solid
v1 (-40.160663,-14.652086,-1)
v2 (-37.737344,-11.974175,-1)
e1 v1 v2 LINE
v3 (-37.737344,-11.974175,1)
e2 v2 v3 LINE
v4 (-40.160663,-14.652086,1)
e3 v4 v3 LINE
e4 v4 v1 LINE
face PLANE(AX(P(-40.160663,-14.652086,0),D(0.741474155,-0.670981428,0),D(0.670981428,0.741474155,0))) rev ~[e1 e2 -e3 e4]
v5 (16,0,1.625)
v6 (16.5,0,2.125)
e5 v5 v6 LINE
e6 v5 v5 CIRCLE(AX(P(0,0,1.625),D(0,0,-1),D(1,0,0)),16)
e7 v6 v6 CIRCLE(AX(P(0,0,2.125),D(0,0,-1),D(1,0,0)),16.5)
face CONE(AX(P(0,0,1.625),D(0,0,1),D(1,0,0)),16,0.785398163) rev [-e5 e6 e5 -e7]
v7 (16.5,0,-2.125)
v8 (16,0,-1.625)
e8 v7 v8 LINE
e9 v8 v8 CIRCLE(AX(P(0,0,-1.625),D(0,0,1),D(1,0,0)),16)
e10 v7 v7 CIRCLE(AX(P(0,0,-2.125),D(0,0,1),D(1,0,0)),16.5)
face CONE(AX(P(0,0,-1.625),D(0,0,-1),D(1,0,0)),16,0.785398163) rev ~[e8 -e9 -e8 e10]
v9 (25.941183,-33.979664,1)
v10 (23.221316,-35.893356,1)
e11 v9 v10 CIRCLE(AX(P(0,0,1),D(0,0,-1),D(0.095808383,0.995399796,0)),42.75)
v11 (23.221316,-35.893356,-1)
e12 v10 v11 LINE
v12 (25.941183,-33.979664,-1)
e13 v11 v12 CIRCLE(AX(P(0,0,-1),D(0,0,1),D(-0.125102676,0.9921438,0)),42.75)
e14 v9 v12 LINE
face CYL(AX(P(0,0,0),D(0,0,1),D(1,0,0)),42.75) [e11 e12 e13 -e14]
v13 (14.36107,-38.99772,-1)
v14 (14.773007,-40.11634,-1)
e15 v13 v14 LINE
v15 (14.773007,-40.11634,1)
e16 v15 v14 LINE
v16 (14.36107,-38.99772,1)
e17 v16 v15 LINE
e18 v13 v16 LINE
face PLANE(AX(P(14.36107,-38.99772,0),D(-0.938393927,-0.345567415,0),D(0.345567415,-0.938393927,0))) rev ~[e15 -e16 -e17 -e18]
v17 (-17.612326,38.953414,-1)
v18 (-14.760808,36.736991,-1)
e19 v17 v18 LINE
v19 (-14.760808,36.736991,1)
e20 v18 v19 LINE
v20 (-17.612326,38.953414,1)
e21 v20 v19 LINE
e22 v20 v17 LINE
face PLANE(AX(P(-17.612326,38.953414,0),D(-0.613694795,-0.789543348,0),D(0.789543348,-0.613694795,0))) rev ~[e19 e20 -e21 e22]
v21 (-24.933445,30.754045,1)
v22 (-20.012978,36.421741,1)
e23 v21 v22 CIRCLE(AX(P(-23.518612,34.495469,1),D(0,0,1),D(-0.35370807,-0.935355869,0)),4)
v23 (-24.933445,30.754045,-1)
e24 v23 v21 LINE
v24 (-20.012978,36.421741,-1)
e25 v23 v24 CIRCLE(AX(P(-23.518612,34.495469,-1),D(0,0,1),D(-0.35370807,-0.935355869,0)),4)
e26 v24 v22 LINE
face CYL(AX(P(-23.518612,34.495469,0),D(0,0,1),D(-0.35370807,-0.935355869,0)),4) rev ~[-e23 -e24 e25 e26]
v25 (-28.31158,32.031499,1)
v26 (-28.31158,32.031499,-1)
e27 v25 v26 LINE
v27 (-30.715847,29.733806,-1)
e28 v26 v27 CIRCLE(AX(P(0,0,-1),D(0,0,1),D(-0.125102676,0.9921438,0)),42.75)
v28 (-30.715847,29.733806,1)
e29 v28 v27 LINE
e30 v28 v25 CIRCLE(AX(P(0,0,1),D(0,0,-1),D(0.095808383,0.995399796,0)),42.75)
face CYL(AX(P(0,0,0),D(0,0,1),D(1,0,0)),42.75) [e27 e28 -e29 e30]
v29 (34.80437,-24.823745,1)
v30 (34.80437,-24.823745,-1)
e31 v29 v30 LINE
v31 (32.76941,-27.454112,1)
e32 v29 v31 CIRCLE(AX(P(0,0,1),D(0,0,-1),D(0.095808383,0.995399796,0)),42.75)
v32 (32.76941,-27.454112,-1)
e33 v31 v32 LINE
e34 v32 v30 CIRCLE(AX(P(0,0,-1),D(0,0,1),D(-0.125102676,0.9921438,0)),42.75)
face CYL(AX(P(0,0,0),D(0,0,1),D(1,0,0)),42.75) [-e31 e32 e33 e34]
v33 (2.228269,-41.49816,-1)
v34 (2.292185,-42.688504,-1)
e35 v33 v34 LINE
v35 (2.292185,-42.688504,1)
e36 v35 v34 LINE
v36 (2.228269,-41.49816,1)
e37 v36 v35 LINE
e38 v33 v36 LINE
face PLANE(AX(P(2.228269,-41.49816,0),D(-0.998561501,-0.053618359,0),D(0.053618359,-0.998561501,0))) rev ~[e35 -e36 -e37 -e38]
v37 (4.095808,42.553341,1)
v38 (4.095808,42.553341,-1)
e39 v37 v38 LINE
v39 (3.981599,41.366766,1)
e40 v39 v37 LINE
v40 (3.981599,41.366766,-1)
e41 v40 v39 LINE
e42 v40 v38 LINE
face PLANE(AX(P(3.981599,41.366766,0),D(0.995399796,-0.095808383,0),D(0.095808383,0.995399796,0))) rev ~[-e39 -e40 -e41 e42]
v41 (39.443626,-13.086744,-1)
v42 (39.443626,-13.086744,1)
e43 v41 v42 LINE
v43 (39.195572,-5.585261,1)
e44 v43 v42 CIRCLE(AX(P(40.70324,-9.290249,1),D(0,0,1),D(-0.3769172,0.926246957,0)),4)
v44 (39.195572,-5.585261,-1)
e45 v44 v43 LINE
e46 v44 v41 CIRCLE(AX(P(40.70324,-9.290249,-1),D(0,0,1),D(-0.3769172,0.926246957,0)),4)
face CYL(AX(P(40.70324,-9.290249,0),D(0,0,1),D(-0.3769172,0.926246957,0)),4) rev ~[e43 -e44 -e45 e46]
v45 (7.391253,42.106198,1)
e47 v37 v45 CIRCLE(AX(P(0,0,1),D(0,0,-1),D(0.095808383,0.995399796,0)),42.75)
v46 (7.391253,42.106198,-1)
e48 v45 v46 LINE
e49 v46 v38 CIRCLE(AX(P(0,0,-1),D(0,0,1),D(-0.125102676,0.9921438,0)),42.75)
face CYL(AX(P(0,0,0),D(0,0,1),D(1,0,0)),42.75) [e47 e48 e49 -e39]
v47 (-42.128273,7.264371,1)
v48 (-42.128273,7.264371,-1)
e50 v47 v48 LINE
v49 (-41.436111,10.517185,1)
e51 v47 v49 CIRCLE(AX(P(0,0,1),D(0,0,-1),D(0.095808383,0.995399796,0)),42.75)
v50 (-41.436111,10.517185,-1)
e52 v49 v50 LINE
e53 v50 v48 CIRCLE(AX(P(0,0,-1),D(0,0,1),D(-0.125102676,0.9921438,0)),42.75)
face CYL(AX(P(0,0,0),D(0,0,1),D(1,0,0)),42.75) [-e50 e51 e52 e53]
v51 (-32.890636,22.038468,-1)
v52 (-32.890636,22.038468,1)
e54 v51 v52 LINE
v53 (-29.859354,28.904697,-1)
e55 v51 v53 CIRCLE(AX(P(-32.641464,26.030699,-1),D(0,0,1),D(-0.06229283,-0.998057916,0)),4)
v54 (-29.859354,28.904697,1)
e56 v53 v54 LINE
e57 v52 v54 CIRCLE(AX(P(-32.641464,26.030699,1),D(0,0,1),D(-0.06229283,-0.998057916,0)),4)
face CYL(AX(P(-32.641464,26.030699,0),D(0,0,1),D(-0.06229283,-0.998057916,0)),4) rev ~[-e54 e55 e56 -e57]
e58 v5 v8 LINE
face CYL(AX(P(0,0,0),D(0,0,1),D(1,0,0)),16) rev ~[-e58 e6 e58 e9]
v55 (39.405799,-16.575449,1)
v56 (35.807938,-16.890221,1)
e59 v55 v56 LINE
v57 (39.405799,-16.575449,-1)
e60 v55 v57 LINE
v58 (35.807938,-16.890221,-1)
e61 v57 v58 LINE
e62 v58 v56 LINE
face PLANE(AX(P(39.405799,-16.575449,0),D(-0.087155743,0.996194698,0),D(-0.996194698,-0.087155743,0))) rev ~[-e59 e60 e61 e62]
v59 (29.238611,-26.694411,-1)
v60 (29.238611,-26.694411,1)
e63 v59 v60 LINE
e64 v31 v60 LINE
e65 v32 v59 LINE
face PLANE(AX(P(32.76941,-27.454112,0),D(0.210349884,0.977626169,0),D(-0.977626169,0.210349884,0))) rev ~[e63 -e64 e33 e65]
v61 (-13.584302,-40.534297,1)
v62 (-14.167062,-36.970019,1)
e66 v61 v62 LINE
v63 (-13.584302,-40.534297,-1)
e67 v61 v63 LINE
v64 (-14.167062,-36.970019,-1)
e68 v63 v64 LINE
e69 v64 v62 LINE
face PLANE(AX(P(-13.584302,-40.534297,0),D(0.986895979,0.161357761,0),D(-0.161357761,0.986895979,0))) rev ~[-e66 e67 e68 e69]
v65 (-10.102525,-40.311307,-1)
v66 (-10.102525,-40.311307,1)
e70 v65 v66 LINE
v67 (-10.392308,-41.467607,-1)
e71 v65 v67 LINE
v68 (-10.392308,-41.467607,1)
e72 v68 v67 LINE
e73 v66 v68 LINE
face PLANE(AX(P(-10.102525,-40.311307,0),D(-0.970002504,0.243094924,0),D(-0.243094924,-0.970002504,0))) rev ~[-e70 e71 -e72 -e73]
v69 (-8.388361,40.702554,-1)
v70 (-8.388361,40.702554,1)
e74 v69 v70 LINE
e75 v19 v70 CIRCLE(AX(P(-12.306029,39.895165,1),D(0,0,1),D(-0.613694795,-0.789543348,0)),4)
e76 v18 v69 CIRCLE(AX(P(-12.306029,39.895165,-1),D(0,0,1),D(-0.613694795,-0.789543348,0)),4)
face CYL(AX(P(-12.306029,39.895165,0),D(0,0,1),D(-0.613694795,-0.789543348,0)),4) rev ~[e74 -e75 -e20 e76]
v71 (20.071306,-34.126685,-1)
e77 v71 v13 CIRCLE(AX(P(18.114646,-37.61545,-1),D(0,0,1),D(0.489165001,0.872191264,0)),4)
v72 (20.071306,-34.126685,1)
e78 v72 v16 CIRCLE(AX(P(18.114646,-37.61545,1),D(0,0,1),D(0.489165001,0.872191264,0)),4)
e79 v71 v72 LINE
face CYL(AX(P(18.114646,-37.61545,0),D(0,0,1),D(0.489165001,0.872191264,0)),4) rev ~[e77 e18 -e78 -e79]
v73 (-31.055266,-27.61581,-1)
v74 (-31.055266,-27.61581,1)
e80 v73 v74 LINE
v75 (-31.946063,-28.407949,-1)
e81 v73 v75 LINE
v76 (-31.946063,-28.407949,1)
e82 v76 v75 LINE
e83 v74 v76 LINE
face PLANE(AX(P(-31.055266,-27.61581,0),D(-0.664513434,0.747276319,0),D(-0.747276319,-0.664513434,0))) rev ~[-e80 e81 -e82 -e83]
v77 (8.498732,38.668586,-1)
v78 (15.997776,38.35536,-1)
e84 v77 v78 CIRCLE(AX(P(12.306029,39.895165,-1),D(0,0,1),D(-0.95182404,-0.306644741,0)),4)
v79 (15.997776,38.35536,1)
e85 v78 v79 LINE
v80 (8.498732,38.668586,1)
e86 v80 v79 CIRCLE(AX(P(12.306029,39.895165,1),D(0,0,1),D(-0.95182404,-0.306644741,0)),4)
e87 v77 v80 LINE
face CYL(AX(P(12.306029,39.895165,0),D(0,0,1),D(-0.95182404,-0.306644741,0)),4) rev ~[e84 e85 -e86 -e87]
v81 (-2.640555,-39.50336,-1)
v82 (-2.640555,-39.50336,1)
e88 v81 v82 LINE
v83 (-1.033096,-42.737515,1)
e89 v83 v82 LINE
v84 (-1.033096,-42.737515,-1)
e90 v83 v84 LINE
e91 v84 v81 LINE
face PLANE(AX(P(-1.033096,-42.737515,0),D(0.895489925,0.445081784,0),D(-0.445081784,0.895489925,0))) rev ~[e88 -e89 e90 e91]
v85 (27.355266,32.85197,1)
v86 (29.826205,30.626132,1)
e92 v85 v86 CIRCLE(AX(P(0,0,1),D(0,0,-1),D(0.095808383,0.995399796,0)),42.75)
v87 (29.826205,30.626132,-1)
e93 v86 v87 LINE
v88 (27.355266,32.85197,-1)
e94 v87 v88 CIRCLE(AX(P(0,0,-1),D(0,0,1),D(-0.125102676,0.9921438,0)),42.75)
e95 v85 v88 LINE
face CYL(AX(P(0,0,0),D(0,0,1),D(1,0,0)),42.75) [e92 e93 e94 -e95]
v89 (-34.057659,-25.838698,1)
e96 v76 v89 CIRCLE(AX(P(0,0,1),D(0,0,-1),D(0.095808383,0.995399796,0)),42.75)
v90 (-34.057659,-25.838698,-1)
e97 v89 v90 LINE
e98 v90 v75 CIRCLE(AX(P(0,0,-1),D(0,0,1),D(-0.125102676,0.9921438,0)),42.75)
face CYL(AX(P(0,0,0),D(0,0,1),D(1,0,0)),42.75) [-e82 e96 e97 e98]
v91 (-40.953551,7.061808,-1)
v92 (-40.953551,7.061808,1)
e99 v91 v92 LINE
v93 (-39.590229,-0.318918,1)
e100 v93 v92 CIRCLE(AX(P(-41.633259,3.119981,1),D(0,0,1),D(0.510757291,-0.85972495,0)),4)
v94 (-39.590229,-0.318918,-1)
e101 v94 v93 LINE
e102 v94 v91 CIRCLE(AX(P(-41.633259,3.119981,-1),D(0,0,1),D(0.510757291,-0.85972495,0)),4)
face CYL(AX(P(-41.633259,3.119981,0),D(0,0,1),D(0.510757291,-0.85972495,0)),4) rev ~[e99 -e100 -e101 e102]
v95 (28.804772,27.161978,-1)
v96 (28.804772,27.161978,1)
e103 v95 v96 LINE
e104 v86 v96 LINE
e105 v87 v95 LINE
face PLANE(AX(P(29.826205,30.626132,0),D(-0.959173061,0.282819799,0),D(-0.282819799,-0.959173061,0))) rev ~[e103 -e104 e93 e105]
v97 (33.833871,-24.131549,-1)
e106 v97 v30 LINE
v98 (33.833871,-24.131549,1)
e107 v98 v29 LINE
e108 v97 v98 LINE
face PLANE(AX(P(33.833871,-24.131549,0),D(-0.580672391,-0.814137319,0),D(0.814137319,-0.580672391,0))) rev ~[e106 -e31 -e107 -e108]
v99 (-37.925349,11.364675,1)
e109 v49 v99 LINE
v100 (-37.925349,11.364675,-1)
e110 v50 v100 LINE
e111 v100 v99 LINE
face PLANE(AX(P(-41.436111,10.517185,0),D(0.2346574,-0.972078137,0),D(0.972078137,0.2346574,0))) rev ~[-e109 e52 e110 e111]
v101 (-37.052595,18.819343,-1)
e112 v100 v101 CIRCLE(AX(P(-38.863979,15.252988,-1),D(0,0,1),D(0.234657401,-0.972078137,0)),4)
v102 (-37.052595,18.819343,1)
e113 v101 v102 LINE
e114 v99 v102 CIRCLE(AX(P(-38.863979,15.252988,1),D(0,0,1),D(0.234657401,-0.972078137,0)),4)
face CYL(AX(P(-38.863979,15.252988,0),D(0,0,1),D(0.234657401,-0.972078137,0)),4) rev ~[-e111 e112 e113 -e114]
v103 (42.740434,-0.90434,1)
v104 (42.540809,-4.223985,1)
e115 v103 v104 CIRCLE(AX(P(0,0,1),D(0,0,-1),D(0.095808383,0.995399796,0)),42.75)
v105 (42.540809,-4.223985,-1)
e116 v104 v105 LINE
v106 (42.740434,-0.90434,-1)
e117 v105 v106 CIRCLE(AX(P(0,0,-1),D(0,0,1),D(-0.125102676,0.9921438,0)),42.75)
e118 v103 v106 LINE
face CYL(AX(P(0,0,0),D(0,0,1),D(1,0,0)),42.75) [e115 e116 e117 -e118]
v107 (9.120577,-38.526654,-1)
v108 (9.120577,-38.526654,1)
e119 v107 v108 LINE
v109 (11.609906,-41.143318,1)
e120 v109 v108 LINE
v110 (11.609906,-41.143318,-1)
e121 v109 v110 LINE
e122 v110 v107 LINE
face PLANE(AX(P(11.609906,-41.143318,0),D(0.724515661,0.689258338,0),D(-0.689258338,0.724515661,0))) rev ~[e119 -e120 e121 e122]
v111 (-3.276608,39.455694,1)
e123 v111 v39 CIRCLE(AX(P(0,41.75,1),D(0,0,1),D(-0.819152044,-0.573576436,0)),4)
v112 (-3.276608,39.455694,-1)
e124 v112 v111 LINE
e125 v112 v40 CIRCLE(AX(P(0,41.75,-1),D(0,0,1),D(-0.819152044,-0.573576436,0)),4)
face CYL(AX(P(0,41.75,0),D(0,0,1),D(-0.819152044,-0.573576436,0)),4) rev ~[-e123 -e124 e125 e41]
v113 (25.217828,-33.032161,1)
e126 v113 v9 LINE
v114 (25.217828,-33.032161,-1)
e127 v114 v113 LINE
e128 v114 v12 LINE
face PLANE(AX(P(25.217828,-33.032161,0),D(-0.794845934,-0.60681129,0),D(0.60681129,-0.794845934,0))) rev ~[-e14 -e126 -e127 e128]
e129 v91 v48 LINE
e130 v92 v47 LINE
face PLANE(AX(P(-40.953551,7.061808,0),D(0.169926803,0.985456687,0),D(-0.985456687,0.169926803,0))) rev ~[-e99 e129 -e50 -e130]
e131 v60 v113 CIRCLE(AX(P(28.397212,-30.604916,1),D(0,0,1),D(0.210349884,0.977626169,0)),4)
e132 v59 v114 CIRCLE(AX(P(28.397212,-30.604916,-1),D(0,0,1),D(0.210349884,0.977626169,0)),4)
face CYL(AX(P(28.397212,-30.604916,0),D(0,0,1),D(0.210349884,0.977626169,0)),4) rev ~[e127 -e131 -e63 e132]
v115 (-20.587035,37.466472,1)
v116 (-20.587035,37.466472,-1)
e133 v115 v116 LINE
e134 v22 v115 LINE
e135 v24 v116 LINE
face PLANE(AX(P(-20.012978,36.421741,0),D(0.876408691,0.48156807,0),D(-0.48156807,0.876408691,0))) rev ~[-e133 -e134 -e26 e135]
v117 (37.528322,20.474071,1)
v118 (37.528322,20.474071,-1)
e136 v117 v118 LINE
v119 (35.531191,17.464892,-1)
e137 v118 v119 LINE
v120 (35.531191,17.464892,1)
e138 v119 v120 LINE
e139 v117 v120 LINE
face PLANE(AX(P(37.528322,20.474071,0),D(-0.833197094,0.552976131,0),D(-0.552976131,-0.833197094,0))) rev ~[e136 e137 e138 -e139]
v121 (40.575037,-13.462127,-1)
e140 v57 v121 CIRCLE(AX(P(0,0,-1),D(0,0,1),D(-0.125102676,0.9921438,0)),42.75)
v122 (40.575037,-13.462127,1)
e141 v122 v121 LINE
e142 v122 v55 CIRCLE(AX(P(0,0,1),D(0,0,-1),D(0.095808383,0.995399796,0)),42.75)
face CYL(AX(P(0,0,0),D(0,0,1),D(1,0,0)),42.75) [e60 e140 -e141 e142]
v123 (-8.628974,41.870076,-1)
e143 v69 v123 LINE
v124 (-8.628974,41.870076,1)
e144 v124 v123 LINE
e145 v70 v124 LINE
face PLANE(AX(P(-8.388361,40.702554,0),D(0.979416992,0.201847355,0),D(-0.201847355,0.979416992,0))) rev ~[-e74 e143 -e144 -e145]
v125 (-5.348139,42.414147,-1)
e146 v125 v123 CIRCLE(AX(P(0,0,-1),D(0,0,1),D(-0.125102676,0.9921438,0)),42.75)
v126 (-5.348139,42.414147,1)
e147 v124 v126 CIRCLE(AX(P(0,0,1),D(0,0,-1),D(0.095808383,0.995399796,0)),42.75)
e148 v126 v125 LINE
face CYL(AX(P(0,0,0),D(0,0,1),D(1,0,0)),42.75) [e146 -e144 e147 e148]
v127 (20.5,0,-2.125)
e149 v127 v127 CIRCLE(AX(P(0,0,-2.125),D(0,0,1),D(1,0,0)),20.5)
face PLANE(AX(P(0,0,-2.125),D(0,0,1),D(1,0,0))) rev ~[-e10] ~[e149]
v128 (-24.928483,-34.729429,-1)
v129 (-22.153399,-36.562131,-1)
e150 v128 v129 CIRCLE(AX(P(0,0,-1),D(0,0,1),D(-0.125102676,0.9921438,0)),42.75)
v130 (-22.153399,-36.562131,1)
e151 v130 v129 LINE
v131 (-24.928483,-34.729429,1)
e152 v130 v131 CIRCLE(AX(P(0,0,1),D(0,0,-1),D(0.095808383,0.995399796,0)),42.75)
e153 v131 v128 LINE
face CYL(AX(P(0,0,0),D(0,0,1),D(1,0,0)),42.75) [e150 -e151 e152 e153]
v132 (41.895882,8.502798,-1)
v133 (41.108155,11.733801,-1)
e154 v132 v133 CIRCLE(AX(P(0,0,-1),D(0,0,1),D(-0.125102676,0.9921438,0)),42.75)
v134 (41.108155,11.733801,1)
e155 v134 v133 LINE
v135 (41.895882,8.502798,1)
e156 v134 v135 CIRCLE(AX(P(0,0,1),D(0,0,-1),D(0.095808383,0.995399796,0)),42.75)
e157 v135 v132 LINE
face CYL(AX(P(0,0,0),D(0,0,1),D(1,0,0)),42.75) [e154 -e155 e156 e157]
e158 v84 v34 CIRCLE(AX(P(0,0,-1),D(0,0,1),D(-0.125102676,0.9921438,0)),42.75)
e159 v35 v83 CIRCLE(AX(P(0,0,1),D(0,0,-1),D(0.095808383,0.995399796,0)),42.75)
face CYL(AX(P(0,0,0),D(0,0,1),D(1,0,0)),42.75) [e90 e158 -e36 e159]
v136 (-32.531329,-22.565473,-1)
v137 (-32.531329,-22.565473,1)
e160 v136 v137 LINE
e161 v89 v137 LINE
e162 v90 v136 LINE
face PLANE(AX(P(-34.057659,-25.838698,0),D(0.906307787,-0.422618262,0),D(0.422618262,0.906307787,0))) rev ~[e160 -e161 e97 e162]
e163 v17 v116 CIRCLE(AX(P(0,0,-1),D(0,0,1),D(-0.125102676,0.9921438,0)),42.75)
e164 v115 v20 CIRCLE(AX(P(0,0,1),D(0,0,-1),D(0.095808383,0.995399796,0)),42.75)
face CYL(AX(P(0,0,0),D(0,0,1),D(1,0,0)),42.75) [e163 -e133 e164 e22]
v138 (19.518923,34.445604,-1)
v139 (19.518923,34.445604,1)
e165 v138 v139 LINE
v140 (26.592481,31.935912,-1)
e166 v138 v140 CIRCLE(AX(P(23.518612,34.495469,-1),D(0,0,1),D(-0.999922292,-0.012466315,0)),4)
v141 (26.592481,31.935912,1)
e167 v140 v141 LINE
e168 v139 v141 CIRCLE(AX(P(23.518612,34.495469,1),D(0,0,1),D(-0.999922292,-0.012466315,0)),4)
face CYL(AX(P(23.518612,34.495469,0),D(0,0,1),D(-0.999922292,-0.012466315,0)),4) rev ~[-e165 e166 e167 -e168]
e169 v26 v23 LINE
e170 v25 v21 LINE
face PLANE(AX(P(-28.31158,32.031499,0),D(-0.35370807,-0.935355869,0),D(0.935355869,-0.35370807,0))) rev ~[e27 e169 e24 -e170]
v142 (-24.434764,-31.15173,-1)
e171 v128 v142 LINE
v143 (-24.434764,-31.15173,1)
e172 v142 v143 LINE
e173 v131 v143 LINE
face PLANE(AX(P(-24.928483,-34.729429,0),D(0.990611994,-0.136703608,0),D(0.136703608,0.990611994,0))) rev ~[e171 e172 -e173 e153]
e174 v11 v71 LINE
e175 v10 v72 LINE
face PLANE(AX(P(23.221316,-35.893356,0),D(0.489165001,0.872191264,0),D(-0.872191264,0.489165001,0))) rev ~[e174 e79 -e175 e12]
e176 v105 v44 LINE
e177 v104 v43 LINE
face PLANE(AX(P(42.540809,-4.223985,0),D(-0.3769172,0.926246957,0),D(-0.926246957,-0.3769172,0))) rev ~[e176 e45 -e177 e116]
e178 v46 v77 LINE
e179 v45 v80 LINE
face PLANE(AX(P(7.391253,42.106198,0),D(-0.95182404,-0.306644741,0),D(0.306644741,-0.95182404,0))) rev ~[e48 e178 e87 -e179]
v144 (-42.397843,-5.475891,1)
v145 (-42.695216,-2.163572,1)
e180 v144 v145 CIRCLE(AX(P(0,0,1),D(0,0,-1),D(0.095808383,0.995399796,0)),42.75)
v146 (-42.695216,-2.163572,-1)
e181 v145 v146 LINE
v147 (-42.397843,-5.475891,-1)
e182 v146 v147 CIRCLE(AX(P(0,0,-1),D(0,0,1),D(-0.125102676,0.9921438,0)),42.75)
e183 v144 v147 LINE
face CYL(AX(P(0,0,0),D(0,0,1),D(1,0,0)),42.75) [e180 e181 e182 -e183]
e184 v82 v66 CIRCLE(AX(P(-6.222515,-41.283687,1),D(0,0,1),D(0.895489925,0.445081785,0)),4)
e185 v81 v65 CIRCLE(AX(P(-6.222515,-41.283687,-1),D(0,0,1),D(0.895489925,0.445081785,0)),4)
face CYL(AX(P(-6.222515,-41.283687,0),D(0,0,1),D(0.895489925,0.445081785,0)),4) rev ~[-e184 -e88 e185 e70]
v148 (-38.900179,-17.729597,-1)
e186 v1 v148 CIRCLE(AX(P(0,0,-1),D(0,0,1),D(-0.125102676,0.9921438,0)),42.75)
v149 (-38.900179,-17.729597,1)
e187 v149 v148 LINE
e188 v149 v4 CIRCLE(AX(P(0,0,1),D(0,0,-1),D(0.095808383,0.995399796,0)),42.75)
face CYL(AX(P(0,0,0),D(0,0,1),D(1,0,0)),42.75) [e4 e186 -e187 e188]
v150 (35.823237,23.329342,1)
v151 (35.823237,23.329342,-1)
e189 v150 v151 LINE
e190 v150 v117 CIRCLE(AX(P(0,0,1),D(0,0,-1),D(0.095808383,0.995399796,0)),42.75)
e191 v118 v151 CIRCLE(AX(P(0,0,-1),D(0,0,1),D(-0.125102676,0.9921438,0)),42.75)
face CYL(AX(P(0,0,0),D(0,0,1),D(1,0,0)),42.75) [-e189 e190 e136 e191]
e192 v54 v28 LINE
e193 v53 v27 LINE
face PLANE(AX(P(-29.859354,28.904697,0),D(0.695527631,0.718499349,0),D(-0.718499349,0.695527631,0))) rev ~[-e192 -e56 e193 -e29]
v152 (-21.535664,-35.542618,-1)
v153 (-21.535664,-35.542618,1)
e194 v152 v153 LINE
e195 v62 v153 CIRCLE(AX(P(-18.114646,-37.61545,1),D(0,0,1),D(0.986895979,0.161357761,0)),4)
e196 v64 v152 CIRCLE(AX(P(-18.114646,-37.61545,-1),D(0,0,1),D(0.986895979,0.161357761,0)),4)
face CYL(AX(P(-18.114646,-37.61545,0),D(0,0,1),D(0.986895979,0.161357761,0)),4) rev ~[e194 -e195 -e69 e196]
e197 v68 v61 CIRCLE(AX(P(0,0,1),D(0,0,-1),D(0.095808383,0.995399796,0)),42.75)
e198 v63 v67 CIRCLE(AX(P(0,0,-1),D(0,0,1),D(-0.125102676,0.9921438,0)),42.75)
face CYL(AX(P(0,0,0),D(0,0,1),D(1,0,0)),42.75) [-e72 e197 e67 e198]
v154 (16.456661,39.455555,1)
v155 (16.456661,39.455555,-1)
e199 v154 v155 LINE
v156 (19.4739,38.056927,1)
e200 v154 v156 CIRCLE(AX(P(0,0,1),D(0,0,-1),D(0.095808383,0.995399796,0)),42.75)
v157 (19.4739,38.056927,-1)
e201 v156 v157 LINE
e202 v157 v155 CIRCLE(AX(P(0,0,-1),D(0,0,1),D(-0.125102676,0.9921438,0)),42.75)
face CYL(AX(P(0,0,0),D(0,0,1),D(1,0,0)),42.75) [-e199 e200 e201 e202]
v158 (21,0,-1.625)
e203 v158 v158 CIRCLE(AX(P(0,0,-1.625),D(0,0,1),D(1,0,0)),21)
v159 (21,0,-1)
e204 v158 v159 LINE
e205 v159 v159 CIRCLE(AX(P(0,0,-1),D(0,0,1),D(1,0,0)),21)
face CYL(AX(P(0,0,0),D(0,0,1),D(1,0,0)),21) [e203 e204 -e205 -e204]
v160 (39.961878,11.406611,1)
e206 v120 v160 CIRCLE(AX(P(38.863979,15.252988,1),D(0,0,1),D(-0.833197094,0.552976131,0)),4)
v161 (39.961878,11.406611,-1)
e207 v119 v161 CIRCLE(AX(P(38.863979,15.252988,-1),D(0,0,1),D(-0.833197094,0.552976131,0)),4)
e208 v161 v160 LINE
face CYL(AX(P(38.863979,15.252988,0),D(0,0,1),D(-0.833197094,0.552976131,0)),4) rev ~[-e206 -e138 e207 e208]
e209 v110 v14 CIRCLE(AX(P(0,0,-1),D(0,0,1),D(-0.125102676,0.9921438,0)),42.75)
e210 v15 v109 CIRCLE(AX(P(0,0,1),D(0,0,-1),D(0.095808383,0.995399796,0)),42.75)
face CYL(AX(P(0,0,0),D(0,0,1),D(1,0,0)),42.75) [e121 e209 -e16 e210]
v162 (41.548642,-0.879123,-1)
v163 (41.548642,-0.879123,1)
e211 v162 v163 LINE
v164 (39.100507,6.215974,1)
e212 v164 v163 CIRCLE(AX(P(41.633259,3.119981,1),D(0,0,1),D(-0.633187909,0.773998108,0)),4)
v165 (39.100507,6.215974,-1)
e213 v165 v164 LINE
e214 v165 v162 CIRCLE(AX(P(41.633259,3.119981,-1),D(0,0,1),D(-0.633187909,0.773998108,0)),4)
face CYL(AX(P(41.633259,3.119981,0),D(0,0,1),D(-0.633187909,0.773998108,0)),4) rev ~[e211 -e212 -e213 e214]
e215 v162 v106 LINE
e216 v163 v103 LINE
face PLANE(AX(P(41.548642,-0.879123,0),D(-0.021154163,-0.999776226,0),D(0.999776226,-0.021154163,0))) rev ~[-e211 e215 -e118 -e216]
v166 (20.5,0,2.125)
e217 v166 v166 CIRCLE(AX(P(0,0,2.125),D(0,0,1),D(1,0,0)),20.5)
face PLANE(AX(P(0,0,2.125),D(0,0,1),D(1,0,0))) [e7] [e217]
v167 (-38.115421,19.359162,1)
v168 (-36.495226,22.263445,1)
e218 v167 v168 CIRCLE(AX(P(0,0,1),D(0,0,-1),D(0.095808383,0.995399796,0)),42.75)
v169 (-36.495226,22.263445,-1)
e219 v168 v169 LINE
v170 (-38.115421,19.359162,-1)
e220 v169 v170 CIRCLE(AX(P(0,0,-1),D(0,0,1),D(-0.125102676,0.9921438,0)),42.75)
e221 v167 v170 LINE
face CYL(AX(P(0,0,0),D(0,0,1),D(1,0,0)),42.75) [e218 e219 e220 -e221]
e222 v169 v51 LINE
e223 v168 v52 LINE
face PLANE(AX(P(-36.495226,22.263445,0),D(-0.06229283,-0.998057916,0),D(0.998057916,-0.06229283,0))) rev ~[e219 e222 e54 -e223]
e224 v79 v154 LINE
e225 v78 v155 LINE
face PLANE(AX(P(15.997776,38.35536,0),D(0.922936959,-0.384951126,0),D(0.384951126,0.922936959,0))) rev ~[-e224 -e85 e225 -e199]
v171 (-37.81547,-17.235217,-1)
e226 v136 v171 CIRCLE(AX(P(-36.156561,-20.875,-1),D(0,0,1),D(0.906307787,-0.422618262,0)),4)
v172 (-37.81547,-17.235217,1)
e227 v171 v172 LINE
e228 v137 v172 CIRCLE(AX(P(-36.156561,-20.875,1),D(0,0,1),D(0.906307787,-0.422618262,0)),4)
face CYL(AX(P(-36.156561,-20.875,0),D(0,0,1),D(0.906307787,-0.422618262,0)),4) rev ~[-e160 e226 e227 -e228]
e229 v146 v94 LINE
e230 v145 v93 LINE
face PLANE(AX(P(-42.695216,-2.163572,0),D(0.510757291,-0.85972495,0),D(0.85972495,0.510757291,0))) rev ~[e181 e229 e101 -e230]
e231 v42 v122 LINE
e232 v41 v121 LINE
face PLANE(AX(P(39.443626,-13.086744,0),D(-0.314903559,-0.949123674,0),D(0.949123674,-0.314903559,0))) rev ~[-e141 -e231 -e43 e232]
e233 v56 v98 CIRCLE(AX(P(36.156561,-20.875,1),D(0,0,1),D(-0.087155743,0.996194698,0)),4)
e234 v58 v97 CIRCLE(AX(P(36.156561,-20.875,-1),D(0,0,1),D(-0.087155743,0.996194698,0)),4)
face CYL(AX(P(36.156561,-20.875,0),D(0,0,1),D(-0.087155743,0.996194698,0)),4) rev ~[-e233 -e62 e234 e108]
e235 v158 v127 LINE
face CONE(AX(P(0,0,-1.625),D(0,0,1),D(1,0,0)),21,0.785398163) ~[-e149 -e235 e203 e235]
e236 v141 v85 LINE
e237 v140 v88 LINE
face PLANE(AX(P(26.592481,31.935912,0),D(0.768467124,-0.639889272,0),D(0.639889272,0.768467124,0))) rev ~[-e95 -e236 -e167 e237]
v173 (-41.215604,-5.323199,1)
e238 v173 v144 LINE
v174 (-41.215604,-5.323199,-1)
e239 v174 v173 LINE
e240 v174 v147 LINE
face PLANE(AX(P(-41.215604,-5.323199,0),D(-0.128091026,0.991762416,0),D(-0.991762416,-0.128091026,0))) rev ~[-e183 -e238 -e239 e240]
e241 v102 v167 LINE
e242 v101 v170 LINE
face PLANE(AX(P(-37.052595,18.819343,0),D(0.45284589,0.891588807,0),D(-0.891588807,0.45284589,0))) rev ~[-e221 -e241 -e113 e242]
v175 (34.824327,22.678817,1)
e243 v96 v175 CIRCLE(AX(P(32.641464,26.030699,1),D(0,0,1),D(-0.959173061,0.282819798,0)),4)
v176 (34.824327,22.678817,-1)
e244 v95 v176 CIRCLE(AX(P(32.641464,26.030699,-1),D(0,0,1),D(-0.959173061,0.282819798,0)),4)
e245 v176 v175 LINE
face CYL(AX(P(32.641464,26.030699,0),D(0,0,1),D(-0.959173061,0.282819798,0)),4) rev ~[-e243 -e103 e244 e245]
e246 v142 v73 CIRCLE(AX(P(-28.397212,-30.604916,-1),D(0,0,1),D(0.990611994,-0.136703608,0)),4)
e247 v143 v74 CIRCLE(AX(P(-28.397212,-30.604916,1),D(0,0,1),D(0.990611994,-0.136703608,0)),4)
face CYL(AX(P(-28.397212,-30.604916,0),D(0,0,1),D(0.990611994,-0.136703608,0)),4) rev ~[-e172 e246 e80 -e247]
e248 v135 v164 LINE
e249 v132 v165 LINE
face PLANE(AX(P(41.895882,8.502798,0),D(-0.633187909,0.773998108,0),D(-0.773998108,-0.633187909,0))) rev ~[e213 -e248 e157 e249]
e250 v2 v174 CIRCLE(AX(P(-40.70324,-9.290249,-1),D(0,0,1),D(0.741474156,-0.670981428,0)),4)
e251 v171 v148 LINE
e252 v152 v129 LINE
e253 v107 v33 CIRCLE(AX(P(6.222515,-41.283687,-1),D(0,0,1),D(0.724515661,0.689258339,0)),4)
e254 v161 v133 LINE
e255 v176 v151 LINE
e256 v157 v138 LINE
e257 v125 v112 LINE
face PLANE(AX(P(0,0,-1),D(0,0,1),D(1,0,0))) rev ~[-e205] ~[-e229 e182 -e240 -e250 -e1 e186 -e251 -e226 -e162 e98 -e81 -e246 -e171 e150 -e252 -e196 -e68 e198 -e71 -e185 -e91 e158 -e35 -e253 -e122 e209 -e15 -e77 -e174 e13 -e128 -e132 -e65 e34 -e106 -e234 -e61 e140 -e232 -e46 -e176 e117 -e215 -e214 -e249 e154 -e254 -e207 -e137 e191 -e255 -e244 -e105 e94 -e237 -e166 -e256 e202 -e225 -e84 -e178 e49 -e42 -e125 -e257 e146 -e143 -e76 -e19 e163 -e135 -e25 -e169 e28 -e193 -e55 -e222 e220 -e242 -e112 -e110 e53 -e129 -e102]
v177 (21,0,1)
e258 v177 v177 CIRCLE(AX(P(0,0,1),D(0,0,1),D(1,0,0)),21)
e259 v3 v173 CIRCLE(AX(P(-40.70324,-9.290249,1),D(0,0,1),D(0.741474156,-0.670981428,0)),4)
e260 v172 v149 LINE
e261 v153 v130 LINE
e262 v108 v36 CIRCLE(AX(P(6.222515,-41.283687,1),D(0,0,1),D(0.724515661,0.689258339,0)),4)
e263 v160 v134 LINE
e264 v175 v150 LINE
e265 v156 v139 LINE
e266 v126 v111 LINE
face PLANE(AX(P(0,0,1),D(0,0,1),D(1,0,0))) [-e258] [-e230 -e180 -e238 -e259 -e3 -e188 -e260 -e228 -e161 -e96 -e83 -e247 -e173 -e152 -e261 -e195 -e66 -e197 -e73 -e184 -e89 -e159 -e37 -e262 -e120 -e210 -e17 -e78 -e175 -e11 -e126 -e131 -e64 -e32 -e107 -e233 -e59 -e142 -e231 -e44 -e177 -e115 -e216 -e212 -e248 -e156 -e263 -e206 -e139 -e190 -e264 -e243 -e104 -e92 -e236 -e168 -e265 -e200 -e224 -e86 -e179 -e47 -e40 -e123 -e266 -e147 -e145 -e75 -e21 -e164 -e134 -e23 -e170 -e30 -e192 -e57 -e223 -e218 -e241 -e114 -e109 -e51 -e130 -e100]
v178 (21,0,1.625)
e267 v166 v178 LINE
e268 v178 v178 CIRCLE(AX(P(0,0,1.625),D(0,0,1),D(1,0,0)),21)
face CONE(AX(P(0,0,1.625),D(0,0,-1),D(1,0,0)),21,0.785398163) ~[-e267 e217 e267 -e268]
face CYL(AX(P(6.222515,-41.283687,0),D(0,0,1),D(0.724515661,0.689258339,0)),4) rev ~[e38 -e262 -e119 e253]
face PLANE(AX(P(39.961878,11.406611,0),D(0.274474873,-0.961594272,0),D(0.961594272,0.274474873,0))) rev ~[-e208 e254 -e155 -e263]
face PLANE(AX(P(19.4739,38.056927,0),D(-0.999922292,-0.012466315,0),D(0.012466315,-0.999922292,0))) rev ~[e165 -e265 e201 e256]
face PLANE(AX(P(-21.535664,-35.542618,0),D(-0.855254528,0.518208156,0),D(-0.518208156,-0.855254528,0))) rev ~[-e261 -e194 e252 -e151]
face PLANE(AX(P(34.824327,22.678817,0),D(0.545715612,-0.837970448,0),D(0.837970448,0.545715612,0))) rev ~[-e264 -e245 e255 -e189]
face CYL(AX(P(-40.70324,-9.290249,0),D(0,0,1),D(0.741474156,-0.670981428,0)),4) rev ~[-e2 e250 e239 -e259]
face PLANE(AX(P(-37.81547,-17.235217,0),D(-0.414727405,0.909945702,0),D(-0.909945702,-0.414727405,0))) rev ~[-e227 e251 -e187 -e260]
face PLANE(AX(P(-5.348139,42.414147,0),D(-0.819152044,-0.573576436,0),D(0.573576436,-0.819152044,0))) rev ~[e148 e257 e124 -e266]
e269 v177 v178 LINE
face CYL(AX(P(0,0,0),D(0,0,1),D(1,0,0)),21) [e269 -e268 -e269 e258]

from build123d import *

# Parameters (mm, degrees)
ESQUISSE1_R                  = 42.75
EXTRUSION1_DEPTH             = 1
ENL_V_MAT_EXTRU_1_DEPTH      = 2
R_P_TITION_CIRCULAIRE1_COUNT = 21
ESQUISSE3_R                  = 21
EXTRUSION2_DEPTH             = 2.125
ESQUISSE4_R                  = 16
ENL_V_MAT_EXTRU_2_DEPTH      = 3.125
ENL_V_MAT_EXTRU_2_DEPTH_BACK = 3.125
CHANFREIN1_SIZE              = 0.5


with BuildPart() as part:
    # Esquisse1 → Extrusion1 (new body, symmetric)
    with BuildSketch(Plane.XY):
        Circle(ESQUISSE1_R)
    extrude(amount=EXTRUSION1_DEPTH, both=True)

    # Esquisse2 → Enlèv. mat.-Extru.1 (cut, symmetric)
    with BuildSketch(Plane.XY):
        with BuildLine():
            Line((-5.348139413, 42.414147461), (-3.276608177, 39.455694255))
            ThreePointArc((-3.276608177, 39.455694255), (1.018480402, 37.881835362), (3.981599184, 41.366766467))
            Line((3.981599184, 41.366766467), (4.095808383, 42.553341275))
            ThreePointArc((4.095808383, 42.553341275), (-0.630021414, 42.745357327), (-5.348139413, 42.414147461))
        make_face()
    enl_v_mat_extru_1 = extrude(amount=ENL_V_MAT_EXTRU_1_DEPTH, both=True, mode=Mode.SUBTRACT)

    # Répétition circulaire1: Enlèv. mat.-Extru.1 ×21 about axis
    r_p_tition_circulaire1_axis = Axis((0, 0, 0), (0, 0, 1))
    for i in range(1, R_P_TITION_CIRCULAIRE1_COUNT):
        add(enl_v_mat_extru_1.rotate(r_p_tition_circulaire1_axis, i * 360 / R_P_TITION_CIRCULAIRE1_COUNT), mode=Mode.SUBTRACT)

    # Esquisse3 → Extrusion2 (add, symmetric)
    with BuildSketch(Plane.XY):
        Circle(ESQUISSE3_R)
    extrude(amount=EXTRUSION2_DEPTH, both=True)

    # Esquisse4 → Enlèv. mat.-Extru.2 (cut, two sides)
    with BuildSketch(Plane.XY) as enl_v_mat_extru_2_sk:
        Circle(ESQUISSE4_R)
    extrude(amount=ENL_V_MAT_EXTRU_2_DEPTH, mode=Mode.SUBTRACT)
    extrude(enl_v_mat_extru_2_sk.sketch, amount=-ENL_V_MAT_EXTRU_2_DEPTH_BACK, mode=Mode.SUBTRACT)

    # Chanfrein1
    chanfrein1_edges = [part.edges().sort_by_distance(p)[0] for p in [
        (-21, 0, -2.125),
        (-21, 0, 2.125),
        (-16, 0, -2.125),
        (-16, 0, 2.125),
    ]]
    chamfer(chanfrein1_edges, length=CHANFREIN1_SIZE)


solid = part.part
